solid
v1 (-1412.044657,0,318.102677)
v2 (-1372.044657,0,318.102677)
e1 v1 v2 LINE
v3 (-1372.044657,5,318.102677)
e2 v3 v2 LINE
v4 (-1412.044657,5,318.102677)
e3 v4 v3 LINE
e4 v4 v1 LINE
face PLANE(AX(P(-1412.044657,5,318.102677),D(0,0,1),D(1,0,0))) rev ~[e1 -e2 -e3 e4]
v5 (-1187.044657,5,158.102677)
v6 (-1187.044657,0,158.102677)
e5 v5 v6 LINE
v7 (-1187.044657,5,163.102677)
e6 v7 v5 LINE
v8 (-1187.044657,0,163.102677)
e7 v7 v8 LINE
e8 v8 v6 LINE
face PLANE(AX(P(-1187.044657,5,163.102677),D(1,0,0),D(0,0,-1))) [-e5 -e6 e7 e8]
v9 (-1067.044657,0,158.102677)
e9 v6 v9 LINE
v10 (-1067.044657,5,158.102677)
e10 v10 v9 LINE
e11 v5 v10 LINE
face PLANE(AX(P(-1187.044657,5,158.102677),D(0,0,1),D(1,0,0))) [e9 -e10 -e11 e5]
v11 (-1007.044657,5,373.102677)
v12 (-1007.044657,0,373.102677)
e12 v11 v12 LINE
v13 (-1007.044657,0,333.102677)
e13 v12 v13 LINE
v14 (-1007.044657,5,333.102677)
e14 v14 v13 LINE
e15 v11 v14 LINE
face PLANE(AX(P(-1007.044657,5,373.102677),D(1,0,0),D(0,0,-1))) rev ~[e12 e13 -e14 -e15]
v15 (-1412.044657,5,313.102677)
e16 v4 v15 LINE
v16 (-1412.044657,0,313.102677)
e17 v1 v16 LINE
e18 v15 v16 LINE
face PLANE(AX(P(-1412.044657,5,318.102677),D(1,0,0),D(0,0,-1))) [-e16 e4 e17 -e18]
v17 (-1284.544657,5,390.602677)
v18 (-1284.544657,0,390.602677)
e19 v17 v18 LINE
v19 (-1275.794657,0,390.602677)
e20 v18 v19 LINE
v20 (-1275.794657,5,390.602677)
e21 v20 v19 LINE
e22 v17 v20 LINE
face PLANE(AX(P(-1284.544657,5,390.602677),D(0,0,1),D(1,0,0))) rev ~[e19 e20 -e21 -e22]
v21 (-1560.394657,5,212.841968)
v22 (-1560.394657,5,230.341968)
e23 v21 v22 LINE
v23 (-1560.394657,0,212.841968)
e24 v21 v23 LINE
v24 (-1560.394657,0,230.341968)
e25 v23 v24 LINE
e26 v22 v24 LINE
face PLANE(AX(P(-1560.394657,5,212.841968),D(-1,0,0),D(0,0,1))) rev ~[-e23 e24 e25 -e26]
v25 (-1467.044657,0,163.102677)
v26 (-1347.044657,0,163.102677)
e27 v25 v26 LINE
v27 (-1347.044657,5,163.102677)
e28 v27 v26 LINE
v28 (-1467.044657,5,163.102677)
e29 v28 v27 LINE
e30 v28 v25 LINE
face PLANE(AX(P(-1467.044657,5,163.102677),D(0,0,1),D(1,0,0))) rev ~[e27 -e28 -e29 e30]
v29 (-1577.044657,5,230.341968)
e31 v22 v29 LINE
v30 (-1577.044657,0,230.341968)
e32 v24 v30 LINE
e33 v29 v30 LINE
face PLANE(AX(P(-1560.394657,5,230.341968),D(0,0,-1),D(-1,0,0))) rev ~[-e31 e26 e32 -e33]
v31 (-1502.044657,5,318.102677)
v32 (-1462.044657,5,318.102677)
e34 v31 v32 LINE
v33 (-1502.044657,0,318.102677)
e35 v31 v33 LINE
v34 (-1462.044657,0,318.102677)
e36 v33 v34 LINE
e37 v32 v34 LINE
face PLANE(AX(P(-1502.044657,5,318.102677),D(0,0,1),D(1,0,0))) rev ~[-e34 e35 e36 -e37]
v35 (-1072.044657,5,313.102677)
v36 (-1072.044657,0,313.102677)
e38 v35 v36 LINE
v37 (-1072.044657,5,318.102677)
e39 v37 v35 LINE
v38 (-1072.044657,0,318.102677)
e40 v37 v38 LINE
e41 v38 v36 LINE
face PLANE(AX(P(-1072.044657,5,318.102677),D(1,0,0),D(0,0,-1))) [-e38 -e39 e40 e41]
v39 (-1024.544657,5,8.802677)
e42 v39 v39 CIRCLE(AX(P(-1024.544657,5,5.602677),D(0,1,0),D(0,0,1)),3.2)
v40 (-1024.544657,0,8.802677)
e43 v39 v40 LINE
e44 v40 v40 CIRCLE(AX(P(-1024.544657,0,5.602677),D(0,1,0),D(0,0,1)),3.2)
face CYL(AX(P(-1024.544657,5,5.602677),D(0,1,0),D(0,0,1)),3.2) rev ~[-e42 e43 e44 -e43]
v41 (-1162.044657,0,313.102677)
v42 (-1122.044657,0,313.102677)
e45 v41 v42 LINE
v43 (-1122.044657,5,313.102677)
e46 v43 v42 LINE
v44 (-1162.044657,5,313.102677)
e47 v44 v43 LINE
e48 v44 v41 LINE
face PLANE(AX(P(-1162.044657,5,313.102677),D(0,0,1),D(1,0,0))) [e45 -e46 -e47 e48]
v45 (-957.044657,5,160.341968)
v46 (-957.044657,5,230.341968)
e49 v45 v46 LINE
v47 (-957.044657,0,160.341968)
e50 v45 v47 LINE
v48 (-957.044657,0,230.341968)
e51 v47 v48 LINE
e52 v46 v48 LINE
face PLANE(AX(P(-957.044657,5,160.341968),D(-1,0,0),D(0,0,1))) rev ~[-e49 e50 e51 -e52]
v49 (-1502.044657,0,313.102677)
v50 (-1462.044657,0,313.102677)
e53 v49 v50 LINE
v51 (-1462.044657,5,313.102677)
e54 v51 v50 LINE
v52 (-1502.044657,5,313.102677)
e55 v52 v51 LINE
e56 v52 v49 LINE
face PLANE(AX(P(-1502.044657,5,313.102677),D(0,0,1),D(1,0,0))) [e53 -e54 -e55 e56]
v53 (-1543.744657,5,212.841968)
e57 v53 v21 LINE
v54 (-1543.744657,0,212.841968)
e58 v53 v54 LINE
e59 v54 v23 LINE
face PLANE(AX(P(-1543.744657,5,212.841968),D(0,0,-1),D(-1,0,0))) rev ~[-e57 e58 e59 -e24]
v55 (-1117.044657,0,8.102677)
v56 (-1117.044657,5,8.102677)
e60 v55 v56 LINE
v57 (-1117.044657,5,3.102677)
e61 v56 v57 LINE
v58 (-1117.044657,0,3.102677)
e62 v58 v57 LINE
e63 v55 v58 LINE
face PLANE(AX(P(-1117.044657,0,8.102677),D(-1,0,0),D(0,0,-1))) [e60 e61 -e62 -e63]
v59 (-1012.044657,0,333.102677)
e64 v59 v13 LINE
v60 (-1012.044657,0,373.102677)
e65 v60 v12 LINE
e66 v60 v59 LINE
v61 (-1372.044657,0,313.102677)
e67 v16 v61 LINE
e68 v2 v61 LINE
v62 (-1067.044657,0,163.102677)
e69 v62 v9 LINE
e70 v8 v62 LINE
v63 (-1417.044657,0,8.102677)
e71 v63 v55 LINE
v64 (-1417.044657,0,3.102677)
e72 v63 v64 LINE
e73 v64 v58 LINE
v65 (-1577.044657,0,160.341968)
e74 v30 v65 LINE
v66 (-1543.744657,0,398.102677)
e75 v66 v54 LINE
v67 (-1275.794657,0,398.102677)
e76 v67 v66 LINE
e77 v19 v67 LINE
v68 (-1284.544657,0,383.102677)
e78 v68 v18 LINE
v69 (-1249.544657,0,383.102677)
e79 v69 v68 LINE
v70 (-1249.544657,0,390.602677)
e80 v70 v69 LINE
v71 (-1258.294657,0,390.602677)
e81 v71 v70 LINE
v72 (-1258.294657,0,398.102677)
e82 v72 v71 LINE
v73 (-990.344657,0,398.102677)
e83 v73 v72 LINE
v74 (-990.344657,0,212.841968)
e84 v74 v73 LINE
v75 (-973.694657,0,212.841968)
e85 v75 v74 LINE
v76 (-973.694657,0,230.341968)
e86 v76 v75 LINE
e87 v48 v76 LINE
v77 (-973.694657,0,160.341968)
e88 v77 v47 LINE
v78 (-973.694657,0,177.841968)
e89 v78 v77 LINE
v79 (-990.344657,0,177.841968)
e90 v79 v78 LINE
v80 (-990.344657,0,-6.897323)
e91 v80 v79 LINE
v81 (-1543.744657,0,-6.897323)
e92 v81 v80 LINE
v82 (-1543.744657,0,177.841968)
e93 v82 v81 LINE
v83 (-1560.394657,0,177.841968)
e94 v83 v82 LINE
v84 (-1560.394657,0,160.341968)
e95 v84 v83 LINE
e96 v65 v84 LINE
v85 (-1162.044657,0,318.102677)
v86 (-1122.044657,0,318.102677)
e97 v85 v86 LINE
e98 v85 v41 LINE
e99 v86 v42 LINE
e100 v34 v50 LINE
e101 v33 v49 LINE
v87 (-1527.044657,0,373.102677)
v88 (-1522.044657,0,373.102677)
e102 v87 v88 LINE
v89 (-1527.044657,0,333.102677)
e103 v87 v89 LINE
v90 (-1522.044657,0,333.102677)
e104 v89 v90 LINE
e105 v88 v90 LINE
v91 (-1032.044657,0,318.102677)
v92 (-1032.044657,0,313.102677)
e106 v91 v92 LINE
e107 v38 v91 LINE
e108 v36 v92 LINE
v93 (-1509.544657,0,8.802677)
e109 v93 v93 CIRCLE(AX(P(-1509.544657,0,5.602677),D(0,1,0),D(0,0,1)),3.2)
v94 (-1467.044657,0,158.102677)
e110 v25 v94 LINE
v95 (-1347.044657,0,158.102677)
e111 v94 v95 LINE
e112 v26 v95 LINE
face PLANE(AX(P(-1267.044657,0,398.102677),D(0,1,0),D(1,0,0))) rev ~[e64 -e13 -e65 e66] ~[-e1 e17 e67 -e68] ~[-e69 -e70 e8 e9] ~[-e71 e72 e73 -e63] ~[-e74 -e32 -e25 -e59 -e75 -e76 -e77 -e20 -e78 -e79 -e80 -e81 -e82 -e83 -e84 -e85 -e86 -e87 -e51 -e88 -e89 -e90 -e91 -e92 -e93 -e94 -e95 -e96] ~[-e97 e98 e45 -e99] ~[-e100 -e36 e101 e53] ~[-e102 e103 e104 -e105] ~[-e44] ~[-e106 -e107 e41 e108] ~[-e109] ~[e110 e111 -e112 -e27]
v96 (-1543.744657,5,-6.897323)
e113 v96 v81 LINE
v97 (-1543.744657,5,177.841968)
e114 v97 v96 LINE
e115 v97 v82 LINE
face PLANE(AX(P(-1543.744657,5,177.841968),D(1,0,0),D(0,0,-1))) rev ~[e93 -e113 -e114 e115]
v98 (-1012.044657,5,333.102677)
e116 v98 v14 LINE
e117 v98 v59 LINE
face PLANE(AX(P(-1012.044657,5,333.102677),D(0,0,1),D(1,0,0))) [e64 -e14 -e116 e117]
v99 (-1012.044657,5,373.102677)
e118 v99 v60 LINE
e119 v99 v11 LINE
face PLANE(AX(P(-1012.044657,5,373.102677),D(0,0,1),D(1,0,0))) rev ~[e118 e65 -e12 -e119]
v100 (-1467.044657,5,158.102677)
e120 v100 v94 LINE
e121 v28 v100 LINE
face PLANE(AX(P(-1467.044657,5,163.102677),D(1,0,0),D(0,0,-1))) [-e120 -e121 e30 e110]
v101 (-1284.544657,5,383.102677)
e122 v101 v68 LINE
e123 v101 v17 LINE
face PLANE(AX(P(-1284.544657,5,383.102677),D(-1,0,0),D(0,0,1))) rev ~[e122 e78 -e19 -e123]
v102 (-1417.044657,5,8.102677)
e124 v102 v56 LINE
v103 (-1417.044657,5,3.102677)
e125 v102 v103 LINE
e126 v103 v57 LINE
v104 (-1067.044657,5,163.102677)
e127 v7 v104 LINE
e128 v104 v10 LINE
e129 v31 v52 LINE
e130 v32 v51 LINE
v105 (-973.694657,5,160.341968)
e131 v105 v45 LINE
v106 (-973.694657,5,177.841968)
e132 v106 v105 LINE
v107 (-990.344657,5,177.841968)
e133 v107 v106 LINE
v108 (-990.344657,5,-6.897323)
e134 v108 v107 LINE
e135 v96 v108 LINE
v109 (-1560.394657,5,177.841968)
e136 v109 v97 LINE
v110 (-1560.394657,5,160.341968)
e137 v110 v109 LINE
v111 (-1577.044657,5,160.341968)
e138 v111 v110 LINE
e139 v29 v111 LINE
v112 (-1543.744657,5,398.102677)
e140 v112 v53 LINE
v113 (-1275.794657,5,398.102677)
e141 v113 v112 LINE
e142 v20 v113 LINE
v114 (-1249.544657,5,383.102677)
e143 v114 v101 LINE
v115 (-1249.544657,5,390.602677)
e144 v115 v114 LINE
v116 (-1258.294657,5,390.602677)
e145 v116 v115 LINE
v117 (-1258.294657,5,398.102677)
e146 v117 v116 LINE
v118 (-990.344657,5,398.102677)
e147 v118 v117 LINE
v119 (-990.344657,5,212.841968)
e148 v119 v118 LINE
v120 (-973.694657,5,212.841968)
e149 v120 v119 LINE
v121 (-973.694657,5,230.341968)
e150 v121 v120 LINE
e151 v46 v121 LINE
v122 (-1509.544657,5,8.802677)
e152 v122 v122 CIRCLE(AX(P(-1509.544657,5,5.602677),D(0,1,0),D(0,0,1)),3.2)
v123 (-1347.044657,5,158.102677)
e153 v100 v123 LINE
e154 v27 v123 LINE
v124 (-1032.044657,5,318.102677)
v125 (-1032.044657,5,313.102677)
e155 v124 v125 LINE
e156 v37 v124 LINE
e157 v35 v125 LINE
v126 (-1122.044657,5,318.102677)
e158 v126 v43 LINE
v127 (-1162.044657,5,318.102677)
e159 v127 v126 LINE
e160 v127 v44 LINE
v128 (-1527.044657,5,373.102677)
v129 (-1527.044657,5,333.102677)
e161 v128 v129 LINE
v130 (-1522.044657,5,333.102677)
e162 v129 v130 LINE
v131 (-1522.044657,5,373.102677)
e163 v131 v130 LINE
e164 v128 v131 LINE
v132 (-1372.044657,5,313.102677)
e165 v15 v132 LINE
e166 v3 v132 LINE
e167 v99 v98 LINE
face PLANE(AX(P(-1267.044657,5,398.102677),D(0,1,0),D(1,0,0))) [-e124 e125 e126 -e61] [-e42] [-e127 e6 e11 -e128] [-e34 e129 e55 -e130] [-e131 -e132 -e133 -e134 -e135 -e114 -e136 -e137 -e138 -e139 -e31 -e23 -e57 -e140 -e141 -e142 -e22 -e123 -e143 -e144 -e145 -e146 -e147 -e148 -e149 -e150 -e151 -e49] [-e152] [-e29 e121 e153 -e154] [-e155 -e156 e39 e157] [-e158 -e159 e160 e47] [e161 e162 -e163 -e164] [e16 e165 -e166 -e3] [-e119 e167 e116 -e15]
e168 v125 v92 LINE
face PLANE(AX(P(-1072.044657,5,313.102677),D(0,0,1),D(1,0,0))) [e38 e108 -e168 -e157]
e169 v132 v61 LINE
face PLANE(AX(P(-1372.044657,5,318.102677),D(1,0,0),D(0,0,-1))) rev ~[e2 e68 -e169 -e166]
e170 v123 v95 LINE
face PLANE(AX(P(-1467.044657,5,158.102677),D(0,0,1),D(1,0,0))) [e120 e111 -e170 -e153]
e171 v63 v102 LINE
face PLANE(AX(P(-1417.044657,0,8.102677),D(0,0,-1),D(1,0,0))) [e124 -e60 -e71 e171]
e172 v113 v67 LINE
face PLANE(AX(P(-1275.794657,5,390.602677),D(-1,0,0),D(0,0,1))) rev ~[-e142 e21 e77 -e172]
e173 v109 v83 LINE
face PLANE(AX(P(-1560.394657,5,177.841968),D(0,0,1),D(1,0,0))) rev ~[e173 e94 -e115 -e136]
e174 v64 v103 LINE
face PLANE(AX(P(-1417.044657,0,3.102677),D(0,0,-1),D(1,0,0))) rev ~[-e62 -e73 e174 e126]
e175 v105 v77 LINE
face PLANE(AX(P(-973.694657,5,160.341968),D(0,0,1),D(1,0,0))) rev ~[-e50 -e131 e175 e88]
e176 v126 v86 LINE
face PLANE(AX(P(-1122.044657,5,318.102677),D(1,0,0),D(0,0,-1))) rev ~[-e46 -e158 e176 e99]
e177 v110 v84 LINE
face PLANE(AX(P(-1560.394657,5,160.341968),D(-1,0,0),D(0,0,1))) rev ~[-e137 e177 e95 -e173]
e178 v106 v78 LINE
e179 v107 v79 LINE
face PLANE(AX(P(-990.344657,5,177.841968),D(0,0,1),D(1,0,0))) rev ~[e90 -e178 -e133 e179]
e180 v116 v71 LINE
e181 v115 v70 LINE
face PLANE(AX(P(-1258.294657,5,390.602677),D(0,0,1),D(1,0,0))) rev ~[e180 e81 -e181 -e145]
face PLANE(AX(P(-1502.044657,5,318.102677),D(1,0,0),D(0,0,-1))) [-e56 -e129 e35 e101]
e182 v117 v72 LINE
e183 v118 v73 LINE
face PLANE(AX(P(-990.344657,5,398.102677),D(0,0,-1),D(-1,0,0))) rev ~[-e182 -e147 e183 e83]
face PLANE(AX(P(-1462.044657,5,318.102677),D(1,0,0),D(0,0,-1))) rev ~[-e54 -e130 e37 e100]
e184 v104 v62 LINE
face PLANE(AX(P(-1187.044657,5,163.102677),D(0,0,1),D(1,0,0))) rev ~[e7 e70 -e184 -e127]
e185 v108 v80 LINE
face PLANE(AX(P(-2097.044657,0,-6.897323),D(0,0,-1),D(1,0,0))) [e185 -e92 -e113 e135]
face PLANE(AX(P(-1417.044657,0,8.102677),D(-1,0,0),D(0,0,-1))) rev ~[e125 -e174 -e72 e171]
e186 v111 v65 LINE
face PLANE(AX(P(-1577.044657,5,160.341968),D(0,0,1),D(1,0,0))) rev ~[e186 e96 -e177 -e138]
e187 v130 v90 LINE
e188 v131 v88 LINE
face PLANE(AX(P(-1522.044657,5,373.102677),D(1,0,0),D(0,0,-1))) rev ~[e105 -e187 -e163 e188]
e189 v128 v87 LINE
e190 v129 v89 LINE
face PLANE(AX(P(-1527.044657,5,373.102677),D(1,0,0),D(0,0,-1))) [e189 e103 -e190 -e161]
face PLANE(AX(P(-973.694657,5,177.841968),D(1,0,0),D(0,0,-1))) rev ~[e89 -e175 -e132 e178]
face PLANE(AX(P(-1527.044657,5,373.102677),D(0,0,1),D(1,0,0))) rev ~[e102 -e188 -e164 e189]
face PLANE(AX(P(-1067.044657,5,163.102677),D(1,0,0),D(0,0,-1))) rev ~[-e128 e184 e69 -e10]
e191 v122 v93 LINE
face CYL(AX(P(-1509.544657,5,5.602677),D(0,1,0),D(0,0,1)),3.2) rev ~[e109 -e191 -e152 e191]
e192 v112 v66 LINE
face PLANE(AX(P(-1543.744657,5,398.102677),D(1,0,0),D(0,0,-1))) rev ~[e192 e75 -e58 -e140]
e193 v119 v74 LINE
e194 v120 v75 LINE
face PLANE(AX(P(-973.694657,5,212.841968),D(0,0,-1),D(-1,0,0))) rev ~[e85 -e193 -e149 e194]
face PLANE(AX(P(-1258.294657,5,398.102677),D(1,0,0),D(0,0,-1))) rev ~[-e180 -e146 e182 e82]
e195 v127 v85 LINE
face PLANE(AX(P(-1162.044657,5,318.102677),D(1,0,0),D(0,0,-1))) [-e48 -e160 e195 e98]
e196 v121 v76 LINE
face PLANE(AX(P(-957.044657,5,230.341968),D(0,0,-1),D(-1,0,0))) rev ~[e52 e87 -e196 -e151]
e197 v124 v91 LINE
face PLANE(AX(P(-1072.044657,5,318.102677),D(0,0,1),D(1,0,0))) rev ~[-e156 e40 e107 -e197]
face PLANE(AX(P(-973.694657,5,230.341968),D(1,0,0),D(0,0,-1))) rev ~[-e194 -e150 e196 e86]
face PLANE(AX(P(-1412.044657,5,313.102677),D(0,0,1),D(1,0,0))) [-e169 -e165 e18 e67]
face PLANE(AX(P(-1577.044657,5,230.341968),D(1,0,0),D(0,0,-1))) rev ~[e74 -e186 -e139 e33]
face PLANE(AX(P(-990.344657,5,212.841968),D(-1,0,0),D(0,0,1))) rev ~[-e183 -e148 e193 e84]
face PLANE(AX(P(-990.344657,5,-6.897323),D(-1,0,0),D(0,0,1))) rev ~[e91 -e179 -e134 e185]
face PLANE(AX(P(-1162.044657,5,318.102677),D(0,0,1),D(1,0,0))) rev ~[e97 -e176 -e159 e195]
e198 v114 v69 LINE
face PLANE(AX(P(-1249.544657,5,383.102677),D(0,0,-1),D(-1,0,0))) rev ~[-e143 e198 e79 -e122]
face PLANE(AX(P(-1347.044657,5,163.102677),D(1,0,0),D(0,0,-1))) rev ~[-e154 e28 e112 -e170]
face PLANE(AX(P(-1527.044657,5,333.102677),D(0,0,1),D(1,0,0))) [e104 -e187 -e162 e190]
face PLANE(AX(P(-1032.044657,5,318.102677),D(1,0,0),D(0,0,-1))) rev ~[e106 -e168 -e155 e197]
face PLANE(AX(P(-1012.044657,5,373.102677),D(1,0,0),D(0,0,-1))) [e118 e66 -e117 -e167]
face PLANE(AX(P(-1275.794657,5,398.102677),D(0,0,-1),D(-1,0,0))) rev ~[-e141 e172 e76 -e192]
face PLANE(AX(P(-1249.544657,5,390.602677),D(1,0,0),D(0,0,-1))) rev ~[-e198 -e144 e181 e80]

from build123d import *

# Parameters (mm, degrees)
CROQUIS1_W              = 1660
CROQUIS1_H              = 810
CROQUIS1_W_2            = 300
CROQUIS1_H_2            = 5
SALIENTE_EXTRUIR3_DEPTH = 5
CROQUIS2_W              = 5
CROQUIS2_H              = 40
CROQUIS2_W_2            = 30
CROQUIS2_H_2            = 5
CROQUIS2_W_3            = 120
CROQUIS2_W_4            = 32.5
CROQUIS2_H_3            = 45
CROQUIS2_W_5            = 40
CORTAR_EXTRUIR2_DEPTH   = 10
CROQUIS3_R              = 3.2
CORTAR_EXTRUIR3_DEPTH   = 10
CORTAR_EXTRUIR5_DEPTH   = 10


with BuildPart() as part:
    # Croquis1 → Saliente-Extruir3 (new body)
    with BuildSketch(Plane(origin=(0, 0, 0), x_dir=(1, 0, 0), z_dir=(0, 1, 0))):
        with Locations((-1267.044657187, -398.10267676)):
            Rectangle(CROQUIS1_W, CROQUIS1_H)
        Polygon((-447.044657187, -95.60267676), (-447.044657187, -240.60267676), (-452.044657187, -240.60267676), (-452.044657187, -95.60267676), (-452.044657187, -90.60267676), (-447.044657187, -90.60267676), align=None, mode=Mode.SUBTRACT)
        with Locations((-782.044657187, -5.60267676)):
            Rectangle(CROQUIS1_W_2, CROQUIS1_H_2, mode=Mode.SUBTRACT)
        with Locations((-1267.044657187, -5.60267676)):
            Rectangle(CROQUIS1_W_2, CROQUIS1_H_2, mode=Mode.SUBTRACT)
        with Locations((-1752.044657187, -5.60267676)):
            Rectangle(CROQUIS1_W_2, CROQUIS1_H_2, mode=Mode.SUBTRACT)
        Polygon((-452.044657187, -328.10267676), (-452.044657187, -473.10267676), (-447.044657187, -473.10267676), (-447.044657187, -328.10267676), (-447.044657187, -323.10267676), (-452.044657187, -323.10267676), align=None, mode=Mode.SUBTRACT)
        Polygon((-452.044657187, -560.60267676), (-452.044657187, -705.60267676), (-447.044657187, -705.60267676), (-447.044657187, -560.60267676), (-447.044657187, -555.60267676), (-452.044657187, -555.60267676), align=None, mode=Mode.SUBTRACT)
        Polygon((-2087.044657187, -705.60267676), (-2082.044657187, -705.60267676), (-2082.044657187, -560.60267676), (-2082.044657187, -555.60267676), (-2087.044657187, -555.60267676), (-2087.044657187, -560.60267676), align=None, mode=Mode.SUBTRACT)
        Polygon((-2087.044657187, -473.10267676), (-2082.044657187, -473.10267676), (-2082.044657187, -328.10267676), (-2082.044657187, -323.10267676), (-2087.044657187, -323.10267676), (-2087.044657187, -328.10267676), align=None, mode=Mode.SUBTRACT)
        Polygon((-2087.044657187, -240.60267676), (-2082.044657187, -240.60267676), (-2082.044657187, -95.60267676), (-2082.044657187, -90.60267676), (-2087.044657187, -90.60267676), (-2087.044657187, -95.60267676), align=None, mode=Mode.SUBTRACT)
        with Locations((-1267.044657187, -790.60267676)):
            Rectangle(CROQUIS1_W_2, CROQUIS1_H_2, mode=Mode.SUBTRACT)
        with Locations((-782.044657187, -790.60267676)):
            Rectangle(CROQUIS1_W_2, CROQUIS1_H_2, mode=Mode.SUBTRACT)
        with Locations((-1752.044657187, -790.60267676)):
            Rectangle(CROQUIS1_W_2, CROQUIS1_H_2, mode=Mode.SUBTRACT)
    extrude(amount=SALIENTE_EXTRUIR3_DEPTH)

    # Croquis2 → Cortar-Extruir2 (cut)
    with BuildSketch(Plane(origin=(0, 5, 0), x_dir=(1, 0, 0), z_dir=(0, 1, 0))):
        with Locations((-1009.544657188, -443.10267676)):
            Rectangle(CROQUIS2_W, CROQUIS2_H)
        with Locations((-684.544657187, -635.60267676)):
            Rectangle(CROQUIS2_W_2, CROQUIS2_H_2)
        with Locations((-1127.044657187, -635.60267676)):
            Rectangle(CROQUIS2_W_3, CROQUIS2_H_2)
        with Locations((-1407.044657187, -635.60267676)):
            Rectangle(CROQUIS2_W_3, CROQUIS2_H_2)
        with Locations((-629.544657187, -635.60267676)):
            Rectangle(CROQUIS2_W_2, CROQUIS2_H_2)
        with Locations((-1404.544657188, -480.60267676)):
            Rectangle(CROQUIS2_W_3, CROQUIS2_H_2)
        with Locations((-785.794657187, -480.60267676)):
            Rectangle(CROQUIS2_W_4, CROQUIS2_H_2)
        with Locations((-833.294657187, -480.60267676)):
            Rectangle(CROQUIS2_W_4, CROQUIS2_H_2)
        with Locations((-604.544657187, -513.10267676)):
            Rectangle(CROQUIS2_W, CROQUIS2_H_3)
        with Locations((-864.544657187, -675.60267676)):
            Rectangle(CROQUIS2_W, CROQUIS2_H_3)
        with Locations((-1052.044657188, -315.60267676)):
            Rectangle(CROQUIS2_W_5, CROQUIS2_H_2)
        with Locations((-1142.044657188, -315.60267676)):
            Rectangle(CROQUIS2_W_5, CROQUIS2_H_2)
        with Locations((-1009.544657188, -353.10267676)):
            Rectangle(CROQUIS2_W, CROQUIS2_H)
        with Locations((-1124.544657188, -480.60267676)):
            Rectangle(CROQUIS2_W_3, CROQUIS2_H_2)
        with Locations((-604.544657187, -593.10267676)):
            Rectangle(CROQUIS2_W, CROQUIS2_H_3)
        with Locations((-1127.044657187, -160.60267676)):
            Rectangle(CROQUIS2_W_3, CROQUIS2_H_2)
        with Locations((-1407.044657187, -160.60267676)):
            Rectangle(CROQUIS2_W_3, CROQUIS2_H_2)
        with Locations((-864.544657187, -750.60267676)):
            Rectangle(CROQUIS2_W, CROQUIS2_H_3)
        with Locations((-1392.044657187, -315.60267676)):
            Rectangle(CROQUIS2_W_5, CROQUIS2_H_2)
        with Locations((-1929.544657187, -283.10267676)):
            Rectangle(CROQUIS2_W, CROQUIS2_H_3)
        with Locations((-1482.044657187, -315.60267676)):
            Rectangle(CROQUIS2_W_5, CROQUIS2_H_2)
        with Locations((-1700.794657187, -480.60267676)):
            Rectangle(CROQUIS2_W_4, CROQUIS2_H_2)
        with Locations((-1748.294657187, -480.60267676)):
            Rectangle(CROQUIS2_W_4, CROQUIS2_H_2)
        with Locations((-1929.544657187, -513.10267676)):
            Rectangle(CROQUIS2_W, CROQUIS2_H_3)
        with Locations((-1669.544657187, -750.60267676)):
            Rectangle(CROQUIS2_W, CROQUIS2_H_3)
        with Locations((-1524.544657187, -353.10267676)):
            Rectangle(CROQUIS2_W, CROQUIS2_H)
        with Locations((-1524.544657187, -443.10267676)):
            Rectangle(CROQUIS2_W, CROQUIS2_H)
        with Locations((-1669.544657187, -675.60267676)):
            Rectangle(CROQUIS2_W, CROQUIS2_H_3)
        with Locations((-1904.544657187, -635.60267676)):
            Rectangle(CROQUIS2_W_2, CROQUIS2_H_2)
        with Locations((-1929.544657187, -593.10267676)):
            Rectangle(CROQUIS2_W, CROQUIS2_H_3)
        with Locations((-1849.544657187, -635.60267676)):
            Rectangle(CROQUIS2_W_2, CROQUIS2_H_2)
        with Locations((-604.544657187, -283.10267676)):
            Rectangle(CROQUIS2_W, CROQUIS2_H_3)
        with Locations((-833.294657187, -315.60267676)):
            Rectangle(CROQUIS2_W_4, CROQUIS2_H_2)
        with Locations((-785.794657187, -315.60267676)):
            Rectangle(CROQUIS2_W_4, CROQUIS2_H_2)
        with Locations((-864.544657187, -45.60267676)):
            Rectangle(CROQUIS2_W, CROQUIS2_H_3)
        with Locations((-864.544657187, -120.60267676)):
            Rectangle(CROQUIS2_W, CROQUIS2_H_3)
        with Locations((-629.544657187, -160.60267676)):
            Rectangle(CROQUIS2_W_2, CROQUIS2_H_2)
        with Locations((-604.544657187, -203.10267676)):
            Rectangle(CROQUIS2_W, CROQUIS2_H_3)
        with Locations((-684.544657187, -160.60267676)):
            Rectangle(CROQUIS2_W_2, CROQUIS2_H_2)
        with Locations((-1849.544657187, -160.60267676)):
            Rectangle(CROQUIS2_W_2, CROQUIS2_H_2)
        with Locations((-1904.544657187, -160.60267676)):
            Rectangle(CROQUIS2_W_2, CROQUIS2_H_2)
        with Locations((-1669.544657187, -120.60267676)):
            Rectangle(CROQUIS2_W, CROQUIS2_H_3)
        with Locations((-1929.544657187, -203.10267676)):
            Rectangle(CROQUIS2_W, CROQUIS2_H_3)
        with Locations((-1669.544657187, -45.60267676)):
            Rectangle(CROQUIS2_W, CROQUIS2_H_3)
        with Locations((-1748.294657187, -315.60267676)):
            Rectangle(CROQUIS2_W_4, CROQUIS2_H_2)
        with Locations((-1700.794657187, -315.60267676)):
            Rectangle(CROQUIS2_W_4, CROQUIS2_H_2)
    extrude(amount=-CORTAR_EXTRUIR2_DEPTH, mode=Mode.SUBTRACT)

    # Croquis3 → Cortar-Extruir3 (cut)
    with BuildSketch(Plane(origin=(0, 5, 0), x_dir=(1, 0, 0), z_dir=(0, 1, 0))):
        with Locations(Location((-2084.544657187, -281.85267676, 0), (0, 0, 270))):
            Circle(CROQUIS3_R)
        with Locations(Location((-2084.544657187, -514.35267676, 0), (0, 0, 270))):
            Circle(CROQUIS3_R)
        with Locations(Location((-1509.544657187, -790.60267676, 0), (0, 0, 270))):
            Circle(CROQUIS3_R)
        with Locations(Location((-1024.544657187, -790.60267676, 0), (0, 0, 270))):
            Circle(CROQUIS3_R)
        with Locations(Location((-449.544657187, -514.35267676, 0), (0, 0, 270))):
            Circle(CROQUIS3_R)
        with Locations(Location((-449.544657187, -281.85267676, 0), (0, 0, 270))):
            Circle(CROQUIS3_R)
        with Locations(Location((-1024.544657187, -5.60267676, 0), (0, 0, 270))):
            Circle(CROQUIS3_R)
        with Locations(Location((-1509.544657187, -5.60267676, 0), (0, 0, 270))):
            Circle(CROQUIS3_R)
    extrude(amount=-CORTAR_EXTRUIR3_DEPTH, mode=Mode.SUBTRACT)

    # Croquis5 → Cortar-Extruir5 (cut)
    with BuildSketch(Plane(origin=(0, 5, 0), x_dir=(1, 0, 0), z_dir=(0, 1, 0))):
        Polygon((-1560.394657187, -177.84196813), (-1543.744657187, -177.84196813), (-1543.744657187, -160.34196813), (-1543.744657187, 6.89732324), (-2097.044657187, 6.89732324), (-2097.044657187, -803.10267676), (-437.044657187, -803.10267676), (-437.044657187, 6.89732324), (-990.344657187, 6.89732324), (-990.344657187, -160.34196813), (-990.344657187, -177.84196813), (-973.694657187, -177.84196813), (-973.694657187, -160.34196813), (-957.044657187, -160.34196813), (-957.044657187, -230.34196813), (-973.694657187, -230.34196813), (-973.694657187, -212.84196813), (-990.344657187, -212.84196813), (-990.344657187, -230.34196813), (-990.344657187, -398.10267676), (-1258.294657187, -398.10267676), (-1258.294657187, -390.60267676), (-1249.544657187, -390.60267676), (-1249.544657187, -383.10267676), (-1284.544657187, -383.10267676), (-1284.544657187, -390.60267676), (-1275.794657187, -390.60267676), (-1275.794657187, -398.10267676), (-1543.744657187, -398.10267676), (-1543.744657187, -230.34196813), (-1543.744657187, -212.84196813), (-1560.394657187, -212.84196813), (-1560.394657187, -230.34196813), (-1577.044657187, -230.34196813), (-1577.044657187, -160.34196813), (-1560.394657187, -160.34196813), align=None)
    extrude(amount=-CORTAR_EXTRUIR5_DEPTH, mode=Mode.SUBTRACT)


solid = part.part
